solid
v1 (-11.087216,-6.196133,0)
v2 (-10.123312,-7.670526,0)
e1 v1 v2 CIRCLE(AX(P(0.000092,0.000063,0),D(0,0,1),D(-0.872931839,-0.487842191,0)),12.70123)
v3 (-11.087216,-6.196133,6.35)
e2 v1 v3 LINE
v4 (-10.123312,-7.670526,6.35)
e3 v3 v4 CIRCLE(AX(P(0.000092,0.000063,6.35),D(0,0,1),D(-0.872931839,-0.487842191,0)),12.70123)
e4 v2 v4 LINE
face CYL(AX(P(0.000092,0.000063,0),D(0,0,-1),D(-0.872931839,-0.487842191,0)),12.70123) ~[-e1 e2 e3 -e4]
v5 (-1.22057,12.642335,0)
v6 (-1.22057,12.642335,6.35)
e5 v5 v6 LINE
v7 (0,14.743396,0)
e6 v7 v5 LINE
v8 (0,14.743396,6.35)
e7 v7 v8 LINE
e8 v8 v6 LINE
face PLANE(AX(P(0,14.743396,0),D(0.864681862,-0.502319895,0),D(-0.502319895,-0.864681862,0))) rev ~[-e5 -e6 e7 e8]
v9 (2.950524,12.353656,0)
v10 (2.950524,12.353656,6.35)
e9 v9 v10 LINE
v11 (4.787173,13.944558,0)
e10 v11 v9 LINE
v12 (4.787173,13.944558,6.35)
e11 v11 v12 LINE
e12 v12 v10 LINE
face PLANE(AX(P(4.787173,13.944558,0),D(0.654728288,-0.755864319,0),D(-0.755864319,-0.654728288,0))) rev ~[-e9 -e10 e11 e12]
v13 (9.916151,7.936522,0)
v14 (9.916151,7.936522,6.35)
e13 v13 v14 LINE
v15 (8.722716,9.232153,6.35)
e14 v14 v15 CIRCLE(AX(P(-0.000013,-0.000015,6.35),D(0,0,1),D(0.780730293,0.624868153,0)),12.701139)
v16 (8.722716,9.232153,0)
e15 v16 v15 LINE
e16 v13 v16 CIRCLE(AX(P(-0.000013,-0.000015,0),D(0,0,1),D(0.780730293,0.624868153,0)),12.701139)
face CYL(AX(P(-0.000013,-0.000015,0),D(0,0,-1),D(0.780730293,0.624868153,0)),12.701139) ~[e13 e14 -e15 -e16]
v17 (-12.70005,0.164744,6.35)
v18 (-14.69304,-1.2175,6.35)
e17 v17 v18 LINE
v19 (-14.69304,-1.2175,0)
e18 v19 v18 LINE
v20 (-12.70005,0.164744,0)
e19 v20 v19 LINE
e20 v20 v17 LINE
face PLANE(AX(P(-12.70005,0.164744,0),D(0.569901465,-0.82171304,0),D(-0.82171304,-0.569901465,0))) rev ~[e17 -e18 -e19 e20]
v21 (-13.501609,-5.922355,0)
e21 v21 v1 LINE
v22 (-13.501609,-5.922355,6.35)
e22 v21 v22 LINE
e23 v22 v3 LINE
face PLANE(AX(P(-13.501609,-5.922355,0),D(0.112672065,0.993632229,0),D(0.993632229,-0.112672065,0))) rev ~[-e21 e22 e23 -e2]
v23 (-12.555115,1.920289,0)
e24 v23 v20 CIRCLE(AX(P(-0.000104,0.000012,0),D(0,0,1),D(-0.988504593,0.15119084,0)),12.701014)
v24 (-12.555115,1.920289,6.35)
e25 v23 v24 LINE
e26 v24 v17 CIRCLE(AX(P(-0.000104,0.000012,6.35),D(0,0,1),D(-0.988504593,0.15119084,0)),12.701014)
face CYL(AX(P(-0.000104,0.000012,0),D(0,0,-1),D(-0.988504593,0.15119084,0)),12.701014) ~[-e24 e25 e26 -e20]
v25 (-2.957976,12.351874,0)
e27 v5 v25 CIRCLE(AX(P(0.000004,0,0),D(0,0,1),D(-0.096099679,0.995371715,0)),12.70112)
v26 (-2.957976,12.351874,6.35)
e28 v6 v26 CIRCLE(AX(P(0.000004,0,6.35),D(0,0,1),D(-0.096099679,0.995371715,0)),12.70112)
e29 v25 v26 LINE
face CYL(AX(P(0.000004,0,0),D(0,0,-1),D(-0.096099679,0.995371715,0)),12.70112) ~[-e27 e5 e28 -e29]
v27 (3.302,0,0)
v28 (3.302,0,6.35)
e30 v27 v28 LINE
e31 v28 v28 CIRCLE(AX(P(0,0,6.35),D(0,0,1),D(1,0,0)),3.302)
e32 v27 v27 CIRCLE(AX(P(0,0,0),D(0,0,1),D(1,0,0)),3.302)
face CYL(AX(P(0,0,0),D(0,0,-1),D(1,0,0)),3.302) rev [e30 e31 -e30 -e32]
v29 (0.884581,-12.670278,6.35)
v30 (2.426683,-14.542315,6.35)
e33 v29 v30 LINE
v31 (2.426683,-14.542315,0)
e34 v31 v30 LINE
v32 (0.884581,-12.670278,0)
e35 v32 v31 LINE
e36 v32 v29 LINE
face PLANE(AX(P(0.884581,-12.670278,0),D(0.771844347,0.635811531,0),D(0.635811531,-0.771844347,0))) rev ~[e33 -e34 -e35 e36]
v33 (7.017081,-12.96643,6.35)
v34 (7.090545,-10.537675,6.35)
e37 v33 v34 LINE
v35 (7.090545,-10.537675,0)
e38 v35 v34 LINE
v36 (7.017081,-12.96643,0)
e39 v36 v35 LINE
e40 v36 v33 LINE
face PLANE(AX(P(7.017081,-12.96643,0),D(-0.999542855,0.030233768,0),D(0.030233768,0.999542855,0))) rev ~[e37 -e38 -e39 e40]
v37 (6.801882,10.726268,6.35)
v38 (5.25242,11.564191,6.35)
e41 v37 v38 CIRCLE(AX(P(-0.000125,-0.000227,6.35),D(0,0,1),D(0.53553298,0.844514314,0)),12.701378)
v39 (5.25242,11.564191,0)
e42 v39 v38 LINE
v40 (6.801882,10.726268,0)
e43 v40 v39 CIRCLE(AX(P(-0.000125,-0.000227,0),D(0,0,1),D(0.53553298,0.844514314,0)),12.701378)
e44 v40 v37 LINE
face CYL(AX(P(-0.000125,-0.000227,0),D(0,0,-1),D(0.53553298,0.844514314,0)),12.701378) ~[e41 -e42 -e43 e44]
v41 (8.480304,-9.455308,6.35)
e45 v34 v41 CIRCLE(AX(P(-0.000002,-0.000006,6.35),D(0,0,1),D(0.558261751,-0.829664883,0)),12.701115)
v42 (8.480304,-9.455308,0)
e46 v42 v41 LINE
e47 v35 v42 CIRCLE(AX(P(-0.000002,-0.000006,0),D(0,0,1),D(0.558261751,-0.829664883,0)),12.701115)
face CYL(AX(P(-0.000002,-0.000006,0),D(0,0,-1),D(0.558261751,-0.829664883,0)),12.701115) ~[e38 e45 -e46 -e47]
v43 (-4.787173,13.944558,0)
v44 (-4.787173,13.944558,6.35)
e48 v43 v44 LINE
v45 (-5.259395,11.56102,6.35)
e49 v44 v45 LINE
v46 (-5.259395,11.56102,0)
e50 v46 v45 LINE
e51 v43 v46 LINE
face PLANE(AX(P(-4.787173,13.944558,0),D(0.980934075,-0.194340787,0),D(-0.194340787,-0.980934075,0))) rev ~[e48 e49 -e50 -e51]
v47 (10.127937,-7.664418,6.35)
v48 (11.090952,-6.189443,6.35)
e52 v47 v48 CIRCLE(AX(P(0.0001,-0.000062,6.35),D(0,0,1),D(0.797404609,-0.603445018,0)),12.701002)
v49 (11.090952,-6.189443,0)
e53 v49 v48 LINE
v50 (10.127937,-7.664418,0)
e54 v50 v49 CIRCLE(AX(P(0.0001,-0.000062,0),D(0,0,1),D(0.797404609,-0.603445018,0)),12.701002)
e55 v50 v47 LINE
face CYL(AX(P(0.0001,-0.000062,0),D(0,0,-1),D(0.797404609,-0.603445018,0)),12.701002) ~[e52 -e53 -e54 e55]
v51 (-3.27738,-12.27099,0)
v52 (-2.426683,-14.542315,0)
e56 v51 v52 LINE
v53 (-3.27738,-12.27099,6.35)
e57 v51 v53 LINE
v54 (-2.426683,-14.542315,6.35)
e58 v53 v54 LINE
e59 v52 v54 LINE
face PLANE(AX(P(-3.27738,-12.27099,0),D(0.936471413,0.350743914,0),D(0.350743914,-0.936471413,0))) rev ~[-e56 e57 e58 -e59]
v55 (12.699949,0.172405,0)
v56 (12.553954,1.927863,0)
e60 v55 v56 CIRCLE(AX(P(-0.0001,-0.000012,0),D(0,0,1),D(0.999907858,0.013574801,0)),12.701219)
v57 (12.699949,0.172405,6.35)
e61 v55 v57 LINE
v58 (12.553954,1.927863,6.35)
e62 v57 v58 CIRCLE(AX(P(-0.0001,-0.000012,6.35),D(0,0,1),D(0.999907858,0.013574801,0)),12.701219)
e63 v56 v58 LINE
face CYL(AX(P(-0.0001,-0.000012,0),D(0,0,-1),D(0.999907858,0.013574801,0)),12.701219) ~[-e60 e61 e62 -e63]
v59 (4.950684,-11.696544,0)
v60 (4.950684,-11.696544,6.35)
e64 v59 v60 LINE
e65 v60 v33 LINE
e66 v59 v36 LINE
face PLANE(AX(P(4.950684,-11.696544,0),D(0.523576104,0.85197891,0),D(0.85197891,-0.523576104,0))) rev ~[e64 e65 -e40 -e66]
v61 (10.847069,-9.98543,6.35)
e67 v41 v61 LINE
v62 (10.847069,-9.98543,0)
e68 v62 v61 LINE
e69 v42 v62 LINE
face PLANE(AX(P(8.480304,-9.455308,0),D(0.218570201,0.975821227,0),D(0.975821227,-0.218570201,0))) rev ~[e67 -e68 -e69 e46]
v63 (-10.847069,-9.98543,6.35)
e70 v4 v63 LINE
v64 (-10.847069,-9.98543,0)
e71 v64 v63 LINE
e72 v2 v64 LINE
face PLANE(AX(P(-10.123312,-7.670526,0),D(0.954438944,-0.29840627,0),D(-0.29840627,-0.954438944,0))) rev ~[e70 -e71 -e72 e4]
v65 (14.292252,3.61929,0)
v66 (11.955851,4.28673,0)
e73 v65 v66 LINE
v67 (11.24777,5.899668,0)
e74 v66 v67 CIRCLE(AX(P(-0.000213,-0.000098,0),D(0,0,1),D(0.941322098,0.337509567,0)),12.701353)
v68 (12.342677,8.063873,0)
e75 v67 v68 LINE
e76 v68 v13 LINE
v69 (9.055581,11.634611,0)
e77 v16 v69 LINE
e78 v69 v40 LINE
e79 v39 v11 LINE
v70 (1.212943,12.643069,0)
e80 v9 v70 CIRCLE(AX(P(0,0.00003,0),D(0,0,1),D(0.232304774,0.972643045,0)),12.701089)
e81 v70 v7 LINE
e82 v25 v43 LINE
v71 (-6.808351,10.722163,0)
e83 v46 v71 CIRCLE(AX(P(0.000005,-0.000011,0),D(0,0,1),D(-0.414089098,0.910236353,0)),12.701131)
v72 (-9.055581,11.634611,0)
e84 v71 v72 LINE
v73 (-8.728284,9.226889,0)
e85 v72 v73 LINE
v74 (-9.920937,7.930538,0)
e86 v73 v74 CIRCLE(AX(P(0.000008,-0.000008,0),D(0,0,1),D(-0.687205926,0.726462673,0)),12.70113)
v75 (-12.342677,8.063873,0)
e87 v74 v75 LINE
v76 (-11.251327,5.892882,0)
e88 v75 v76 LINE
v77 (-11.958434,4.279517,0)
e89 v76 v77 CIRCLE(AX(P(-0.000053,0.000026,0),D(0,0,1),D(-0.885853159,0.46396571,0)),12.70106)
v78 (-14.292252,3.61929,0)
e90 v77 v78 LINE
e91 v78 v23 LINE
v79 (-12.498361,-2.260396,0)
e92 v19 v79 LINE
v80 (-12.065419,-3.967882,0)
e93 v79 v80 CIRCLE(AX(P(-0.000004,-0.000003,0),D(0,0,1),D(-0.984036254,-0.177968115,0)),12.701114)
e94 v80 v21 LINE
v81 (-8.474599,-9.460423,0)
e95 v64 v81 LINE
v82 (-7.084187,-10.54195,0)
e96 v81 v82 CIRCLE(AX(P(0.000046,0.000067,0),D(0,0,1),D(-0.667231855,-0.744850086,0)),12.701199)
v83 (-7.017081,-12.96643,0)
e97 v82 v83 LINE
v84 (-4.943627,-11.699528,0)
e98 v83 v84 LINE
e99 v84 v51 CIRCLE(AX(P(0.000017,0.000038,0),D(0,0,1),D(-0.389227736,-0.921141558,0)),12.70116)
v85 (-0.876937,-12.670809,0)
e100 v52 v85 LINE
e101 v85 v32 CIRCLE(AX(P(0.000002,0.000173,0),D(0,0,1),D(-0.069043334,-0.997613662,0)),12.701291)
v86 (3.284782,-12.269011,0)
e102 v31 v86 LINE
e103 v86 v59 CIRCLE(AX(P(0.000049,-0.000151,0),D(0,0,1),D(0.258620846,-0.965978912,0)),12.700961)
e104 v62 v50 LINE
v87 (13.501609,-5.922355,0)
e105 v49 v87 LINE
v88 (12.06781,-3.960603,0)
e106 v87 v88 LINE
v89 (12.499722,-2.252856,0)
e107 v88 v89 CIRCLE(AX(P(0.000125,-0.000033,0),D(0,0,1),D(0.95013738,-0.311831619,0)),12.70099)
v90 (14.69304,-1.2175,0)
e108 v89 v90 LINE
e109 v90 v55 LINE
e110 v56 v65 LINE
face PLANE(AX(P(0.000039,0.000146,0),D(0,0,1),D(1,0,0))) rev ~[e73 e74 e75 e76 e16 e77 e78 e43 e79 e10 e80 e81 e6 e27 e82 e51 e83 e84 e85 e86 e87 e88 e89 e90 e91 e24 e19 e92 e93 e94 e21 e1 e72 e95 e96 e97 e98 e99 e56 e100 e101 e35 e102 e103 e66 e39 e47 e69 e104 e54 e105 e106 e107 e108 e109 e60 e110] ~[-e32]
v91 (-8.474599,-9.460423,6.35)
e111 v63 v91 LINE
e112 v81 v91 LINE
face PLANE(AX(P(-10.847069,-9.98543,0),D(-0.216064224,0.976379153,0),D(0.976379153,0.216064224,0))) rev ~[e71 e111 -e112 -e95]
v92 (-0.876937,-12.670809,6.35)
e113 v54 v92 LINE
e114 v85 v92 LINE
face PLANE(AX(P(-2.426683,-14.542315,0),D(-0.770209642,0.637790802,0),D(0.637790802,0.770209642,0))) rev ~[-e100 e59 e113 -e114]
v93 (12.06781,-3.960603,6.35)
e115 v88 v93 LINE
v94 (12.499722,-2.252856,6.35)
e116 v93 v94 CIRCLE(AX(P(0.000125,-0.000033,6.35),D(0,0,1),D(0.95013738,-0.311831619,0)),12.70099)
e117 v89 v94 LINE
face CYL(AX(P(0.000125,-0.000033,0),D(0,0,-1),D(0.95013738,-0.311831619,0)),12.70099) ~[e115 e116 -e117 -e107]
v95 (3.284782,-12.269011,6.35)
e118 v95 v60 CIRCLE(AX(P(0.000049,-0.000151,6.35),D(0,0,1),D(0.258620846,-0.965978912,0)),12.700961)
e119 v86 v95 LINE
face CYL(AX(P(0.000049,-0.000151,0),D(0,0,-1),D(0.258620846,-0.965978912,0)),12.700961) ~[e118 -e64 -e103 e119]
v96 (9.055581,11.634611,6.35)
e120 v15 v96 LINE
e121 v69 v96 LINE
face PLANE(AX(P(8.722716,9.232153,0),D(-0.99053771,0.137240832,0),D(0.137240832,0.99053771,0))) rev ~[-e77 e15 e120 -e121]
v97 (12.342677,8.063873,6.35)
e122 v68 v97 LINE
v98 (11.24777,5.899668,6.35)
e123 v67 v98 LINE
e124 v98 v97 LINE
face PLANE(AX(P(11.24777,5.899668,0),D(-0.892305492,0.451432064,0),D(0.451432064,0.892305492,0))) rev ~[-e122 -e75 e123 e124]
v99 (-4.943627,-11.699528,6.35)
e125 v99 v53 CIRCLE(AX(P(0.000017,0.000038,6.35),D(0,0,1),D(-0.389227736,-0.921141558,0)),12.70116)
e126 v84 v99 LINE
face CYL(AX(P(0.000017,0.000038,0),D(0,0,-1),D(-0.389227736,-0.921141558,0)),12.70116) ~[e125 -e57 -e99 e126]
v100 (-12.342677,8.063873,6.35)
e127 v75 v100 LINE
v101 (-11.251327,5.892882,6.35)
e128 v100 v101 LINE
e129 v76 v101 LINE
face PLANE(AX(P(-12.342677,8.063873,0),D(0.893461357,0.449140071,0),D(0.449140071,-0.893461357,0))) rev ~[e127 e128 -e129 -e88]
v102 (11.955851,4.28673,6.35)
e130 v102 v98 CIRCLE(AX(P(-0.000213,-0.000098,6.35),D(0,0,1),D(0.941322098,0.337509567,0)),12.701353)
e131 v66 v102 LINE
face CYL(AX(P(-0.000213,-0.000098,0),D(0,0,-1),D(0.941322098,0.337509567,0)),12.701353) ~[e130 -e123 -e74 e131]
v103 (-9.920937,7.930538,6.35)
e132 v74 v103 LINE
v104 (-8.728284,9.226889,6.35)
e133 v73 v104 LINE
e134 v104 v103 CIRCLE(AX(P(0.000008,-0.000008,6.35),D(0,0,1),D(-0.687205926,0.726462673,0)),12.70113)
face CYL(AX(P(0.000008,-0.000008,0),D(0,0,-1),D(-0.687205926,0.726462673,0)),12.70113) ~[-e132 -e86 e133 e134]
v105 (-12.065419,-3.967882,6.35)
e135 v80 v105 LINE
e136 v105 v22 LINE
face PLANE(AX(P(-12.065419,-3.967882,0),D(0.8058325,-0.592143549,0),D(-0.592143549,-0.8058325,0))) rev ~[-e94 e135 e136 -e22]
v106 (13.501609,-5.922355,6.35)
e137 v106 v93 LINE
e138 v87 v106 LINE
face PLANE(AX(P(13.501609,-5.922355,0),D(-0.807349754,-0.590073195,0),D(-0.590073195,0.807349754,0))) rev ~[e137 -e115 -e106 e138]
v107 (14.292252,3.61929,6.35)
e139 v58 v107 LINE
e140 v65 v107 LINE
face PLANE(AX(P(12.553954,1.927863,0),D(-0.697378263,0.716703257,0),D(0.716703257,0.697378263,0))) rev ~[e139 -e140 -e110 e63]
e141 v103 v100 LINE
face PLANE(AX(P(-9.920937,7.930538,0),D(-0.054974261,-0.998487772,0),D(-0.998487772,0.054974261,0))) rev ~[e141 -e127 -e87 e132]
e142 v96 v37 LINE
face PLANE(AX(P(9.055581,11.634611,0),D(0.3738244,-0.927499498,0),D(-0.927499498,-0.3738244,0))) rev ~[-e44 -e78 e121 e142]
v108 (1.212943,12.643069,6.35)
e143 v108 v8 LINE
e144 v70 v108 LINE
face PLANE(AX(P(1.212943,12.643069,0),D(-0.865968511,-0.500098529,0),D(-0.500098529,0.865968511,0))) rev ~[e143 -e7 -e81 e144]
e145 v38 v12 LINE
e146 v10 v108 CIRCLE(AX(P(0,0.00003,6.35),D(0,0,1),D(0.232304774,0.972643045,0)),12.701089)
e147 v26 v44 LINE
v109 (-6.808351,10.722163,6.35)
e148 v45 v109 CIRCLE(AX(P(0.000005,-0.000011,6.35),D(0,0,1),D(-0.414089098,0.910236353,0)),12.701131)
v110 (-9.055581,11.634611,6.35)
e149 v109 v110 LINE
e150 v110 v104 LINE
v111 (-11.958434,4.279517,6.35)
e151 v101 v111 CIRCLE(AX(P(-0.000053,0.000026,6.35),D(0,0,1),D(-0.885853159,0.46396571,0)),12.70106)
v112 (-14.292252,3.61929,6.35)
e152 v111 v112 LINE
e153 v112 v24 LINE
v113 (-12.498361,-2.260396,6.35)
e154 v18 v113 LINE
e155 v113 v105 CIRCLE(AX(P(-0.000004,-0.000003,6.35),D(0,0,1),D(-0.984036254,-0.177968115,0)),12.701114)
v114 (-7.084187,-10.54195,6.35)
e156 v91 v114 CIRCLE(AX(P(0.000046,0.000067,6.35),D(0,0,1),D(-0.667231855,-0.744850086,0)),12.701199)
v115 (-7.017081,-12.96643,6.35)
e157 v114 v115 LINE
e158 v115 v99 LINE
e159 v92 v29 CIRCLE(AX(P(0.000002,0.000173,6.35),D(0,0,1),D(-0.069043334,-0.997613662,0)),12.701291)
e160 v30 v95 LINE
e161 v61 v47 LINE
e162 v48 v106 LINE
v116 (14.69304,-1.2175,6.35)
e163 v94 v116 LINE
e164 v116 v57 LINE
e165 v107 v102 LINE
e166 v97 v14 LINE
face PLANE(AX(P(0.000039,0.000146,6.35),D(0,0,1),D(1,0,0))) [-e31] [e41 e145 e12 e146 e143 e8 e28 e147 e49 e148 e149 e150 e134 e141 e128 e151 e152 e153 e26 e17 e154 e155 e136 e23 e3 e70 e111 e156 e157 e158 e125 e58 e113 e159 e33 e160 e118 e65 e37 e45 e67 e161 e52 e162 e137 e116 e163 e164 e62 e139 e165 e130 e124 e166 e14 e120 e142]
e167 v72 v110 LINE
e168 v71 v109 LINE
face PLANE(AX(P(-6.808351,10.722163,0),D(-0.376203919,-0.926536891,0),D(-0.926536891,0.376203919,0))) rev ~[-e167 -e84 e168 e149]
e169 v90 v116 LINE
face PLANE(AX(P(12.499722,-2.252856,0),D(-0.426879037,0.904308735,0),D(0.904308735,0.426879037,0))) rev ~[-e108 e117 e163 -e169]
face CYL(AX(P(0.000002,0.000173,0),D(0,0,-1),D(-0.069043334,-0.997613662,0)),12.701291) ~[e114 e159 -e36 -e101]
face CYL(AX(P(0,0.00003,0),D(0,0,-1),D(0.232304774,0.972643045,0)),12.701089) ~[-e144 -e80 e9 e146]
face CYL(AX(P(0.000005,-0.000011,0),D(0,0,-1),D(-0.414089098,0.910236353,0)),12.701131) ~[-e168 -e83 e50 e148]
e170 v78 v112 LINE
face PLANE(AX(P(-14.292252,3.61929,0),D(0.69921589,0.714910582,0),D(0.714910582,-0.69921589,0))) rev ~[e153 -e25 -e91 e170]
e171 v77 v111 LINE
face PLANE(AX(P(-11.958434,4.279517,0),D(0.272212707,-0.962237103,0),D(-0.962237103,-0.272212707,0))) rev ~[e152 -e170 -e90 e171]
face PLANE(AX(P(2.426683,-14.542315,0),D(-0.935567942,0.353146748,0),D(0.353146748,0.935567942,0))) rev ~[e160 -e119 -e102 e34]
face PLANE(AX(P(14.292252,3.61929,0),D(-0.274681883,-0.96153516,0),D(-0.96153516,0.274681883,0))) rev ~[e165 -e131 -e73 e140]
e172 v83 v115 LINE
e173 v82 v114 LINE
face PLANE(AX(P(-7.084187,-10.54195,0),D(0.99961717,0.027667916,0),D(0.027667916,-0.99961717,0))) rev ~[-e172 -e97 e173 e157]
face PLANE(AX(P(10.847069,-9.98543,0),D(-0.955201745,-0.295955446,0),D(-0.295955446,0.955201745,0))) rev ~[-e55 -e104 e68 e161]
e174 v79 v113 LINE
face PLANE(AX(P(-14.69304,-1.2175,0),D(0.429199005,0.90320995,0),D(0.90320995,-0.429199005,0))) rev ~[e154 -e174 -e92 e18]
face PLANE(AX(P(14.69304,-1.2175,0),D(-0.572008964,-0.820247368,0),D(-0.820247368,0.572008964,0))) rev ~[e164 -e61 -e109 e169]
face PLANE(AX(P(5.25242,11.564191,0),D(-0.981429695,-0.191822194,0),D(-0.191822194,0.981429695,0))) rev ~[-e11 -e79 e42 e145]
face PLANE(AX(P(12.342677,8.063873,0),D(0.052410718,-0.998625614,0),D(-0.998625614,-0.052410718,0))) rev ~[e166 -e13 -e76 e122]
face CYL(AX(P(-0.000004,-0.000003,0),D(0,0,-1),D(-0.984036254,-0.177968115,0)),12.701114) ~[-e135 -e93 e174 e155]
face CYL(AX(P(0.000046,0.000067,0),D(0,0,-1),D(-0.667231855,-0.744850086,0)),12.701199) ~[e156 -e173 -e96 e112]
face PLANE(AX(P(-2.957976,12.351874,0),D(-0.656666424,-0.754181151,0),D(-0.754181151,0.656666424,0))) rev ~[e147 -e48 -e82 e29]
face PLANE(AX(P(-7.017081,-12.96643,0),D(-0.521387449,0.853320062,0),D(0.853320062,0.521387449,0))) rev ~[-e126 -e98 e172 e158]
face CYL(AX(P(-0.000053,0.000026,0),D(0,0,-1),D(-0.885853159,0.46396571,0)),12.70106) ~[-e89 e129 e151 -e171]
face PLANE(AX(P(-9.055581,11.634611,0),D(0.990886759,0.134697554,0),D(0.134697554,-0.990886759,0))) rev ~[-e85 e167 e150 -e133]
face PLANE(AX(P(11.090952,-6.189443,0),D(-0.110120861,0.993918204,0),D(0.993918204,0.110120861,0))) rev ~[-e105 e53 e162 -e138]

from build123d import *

# Parameters (mm, degrees)
F0_R     = 3.302
F1_DEPTH = 6.35


with BuildPart() as f1:
    # F0 (on Top) → F1 (new body)
    with BuildSketch(Plane.XY):
        with BuildLine():
            ThreePointArc((12.499722, -2.252856), (12.650669, -1.13092), (12.701119, 0))
            ThreePointArc((12.701119, 0), (12.700826, 0.086204), (12.699949, 0.172405))
            ThreePointArc((12.699949, 0.172405), (12.657421, 1.052668), (12.553954, 1.927863))
            ThreePointArc((12.553954, 1.927863), (12.311527, 3.121654), (11.955851, 4.28673))
            ThreePointArc((11.955851, 4.28673), (11.629806, 5.105489), (11.24777, 5.899668))
            ThreePointArc((11.24777, 5.899668), (10.630855, 6.95006), (9.916151, 7.936522))
            ThreePointArc((9.916151, 7.936522), (9.341922, 8.605052), (8.722716, 9.232153))
            ThreePointArc((8.722716, 9.232153), (7.798165, 10.02532), (6.801882, 10.726268))
            ThreePointArc((6.801882, 10.726268), (6.041695, 11.172123), (5.25242, 11.564191))
            ThreePointArc((5.25242, 11.564191), (4.120423, 12.01418), (2.950524, 12.353656))
            ThreePointArc((2.950524, 12.353656), (2.086757, 12.528522), (1.212943, 12.643069))
            ThreePointArc((1.212943, 12.643069), (0.607166, 12.686598), (0, 12.701119))
            ThreePointArc((0, 12.701119), (-0.610992, 12.686414), (-1.22057, 12.642335))
            ThreePointArc((-1.22057, 12.642335), (-2.094314, 12.527261), (-2.957976, 12.351874))
            ThreePointArc((-2.957976, 12.351874), (-4.12767, 12.011693), (-5.259395, 11.56102))
            ThreePointArc((-5.259395, 11.56102), (-6.048433, 11.168477), (-6.808351, 10.722163))
            ThreePointArc((-6.808351, 10.722163), (-7.804211, 10.020614), (-8.728284, 9.226889))
            ThreePointArc((-8.728284, 9.226889), (-9.347111, 8.599415), (-9.920937, 7.930538))
            ThreePointArc((-9.920937, 7.930538), (-10.635046, 6.943646), (-11.251327, 5.892882))
            ThreePointArc((-11.251327, 5.892882), (-11.632884, 5.098473), (-11.958434, 4.279517))
            ThreePointArc((-11.958434, 4.279517), (-12.313408, 3.114226), (-12.555115, 1.920289))
            ThreePointArc((-12.555115, 1.920289), (-12.658054, 1.045032), (-12.70005, 0.164744))
            ThreePointArc((-12.70005, 0.164744), (-12.657421, -1.052668), (-12.498361, -2.260396))
            ThreePointArc((-12.498361, -2.260396), (-12.311527, -3.121654), (-12.065419, -3.967882))
            ThreePointArc((-12.065419, -3.967882), (-11.629806, -5.105489), (-11.087216, -6.196133))
            ThreePointArc((-11.087216, -6.196133), (-10.630855, -6.95006), (-10.123312, -7.670526))
            ThreePointArc((-10.123312, -7.670526), (-9.341922, -8.605052), (-8.474599, -9.460423))
            ThreePointArc((-8.474599, -9.460423), (-7.798165, -10.02532), (-7.084187, -10.54195))
            ThreePointArc((-7.084187, -10.54195), (-6.041695, -11.172123), (-4.943627, -11.699528))
            ThreePointArc((-4.943627, -11.699528), (-4.120423, -12.01418), (-3.27738, -12.27099))
            ThreePointArc((-3.27738, -12.27099), (-2.086757, -12.528522), (-0.876937, -12.670809))
            ThreePointArc((-0.876937, -12.670809), (0.003831, -12.701118), (0.884581, -12.670278))
            ThreePointArc((0.884581, -12.670278), (2.094314, -12.527261), (3.284782, -12.269011))
            ThreePointArc((3.284782, -12.269011), (4.12767, -12.011693), (4.950684, -11.696544))
            ThreePointArc((4.950684, -11.696544), (6.048433, -11.168477), (7.090545, -10.537675))
            ThreePointArc((7.090545, -10.537675), (7.804211, -10.020614), (8.480304, -9.455308))
            ThreePointArc((8.480304, -9.455308), (9.347111, -8.599415), (10.127937, -7.664418))
            ThreePointArc((10.127937, -7.664418), (10.635046, -6.943646), (11.090952, -6.189443))
            ThreePointArc((11.090952, -6.189443), (11.632884, -5.098473), (12.06781, -3.960603))
            ThreePointArc((12.06781, -3.960603), (12.313408, -3.114226), (12.499722, -2.252856))
        make_face()
        Circle(F0_R, mode=Mode.SUBTRACT)
        with BuildLine():
            ThreePointArc((12.699949, 0.172405), (12.700826, 0.086204), (12.701119, 0))
            ThreePointArc((12.701119, 0), (12.650669, -1.13092), (12.499722, -2.252856))
            Line((12.499722, -2.252856), (14.69304, -1.2175))
            Line((14.69304, -1.2175), (12.699949, 0.172405))
        make_face()
        with BuildLine():
            ThreePointArc((11.955851, 4.28673), (12.311527, 3.121654), (12.553954, 1.927863))
            Line((12.553954, 1.927863), (14.292252, 3.61929))
            Line((14.292252, 3.61929), (11.955851, 4.28673))
        make_face()
        with BuildLine():
            Line((13.501609, -5.922355), (12.06781, -3.960603))
            ThreePointArc((12.06781, -3.960603), (11.632884, -5.098473), (11.090952, -6.189443))
            Line((11.090952, -6.189443), (13.501609, -5.922355))
        make_face()
        with BuildLine():
            ThreePointArc((9.916151, 7.936522), (10.630855, 6.95006), (11.24777, 5.899668))
            Line((11.24777, 5.899668), (12.342677, 8.063873))
            Line((12.342677, 8.063873), (9.916151, 7.936522))
        make_face()
        with BuildLine():
            Line((10.847069, -9.98543), (10.127937, -7.664418))
            ThreePointArc((10.127937, -7.664418), (9.347111, -8.599415), (8.480304, -9.455308))
            Line((8.480304, -9.455308), (10.847069, -9.98543))
        make_face()
        with BuildLine():
            ThreePointArc((6.801882, 10.726268), (7.798165, 10.02532), (8.722716, 9.232153))
            Line((8.722716, 9.232153), (9.055581, 11.634611))
            Line((9.055581, 11.634611), (6.801882, 10.726268))
        make_face()
        with BuildLine():
            Line((7.017081, -12.96643), (7.090545, -10.537675))
            ThreePointArc((7.090545, -10.537675), (6.048433, -11.168477), (4.950684, -11.696544))
            Line((4.950684, -11.696544), (7.017081, -12.96643))
        make_face()
        with BuildLine():
            ThreePointArc((2.950524, 12.353656), (4.120423, 12.01418), (5.25242, 11.564191))
            Line((5.25242, 11.564191), (4.787173, 13.944558))
            Line((4.787173, 13.944558), (2.950524, 12.353656))
        make_face()
        with BuildLine():
            Line((2.426683, -14.542315), (3.284782, -12.269011))
            ThreePointArc((3.284782, -12.269011), (2.094314, -12.527261), (0.884581, -12.670278))
            Line((0.884581, -12.670278), (2.426683, -14.542315))
        make_face()
        with BuildLine():
            ThreePointArc((0, 12.701119), (0.607166, 12.686598), (1.212943, 12.643069))
            Line((1.212943, 12.643069), (0, 14.743396))
            Line((0, 14.743396), (0, 12.701119))
        make_face()
        with BuildLine():
            Line((-2.426683, -14.542315), (-0.876937, -12.670809))
            ThreePointArc((-0.876937, -12.670809), (-2.086757, -12.528522), (-3.27738, -12.27099))
            Line((-3.27738, -12.27099), (-2.426683, -14.542315))
        make_face()
        with BuildLine():
            ThreePointArc((-1.22057, 12.642335), (-0.610992, 12.686414), (0, 12.701119))
            Line((0, 12.701119), (0, 14.743396))
            Line((0, 14.743396), (-1.22057, 12.642335))
        make_face()
        with BuildLine():
            Line((-7.017081, -12.96643), (-4.943627, -11.699528))
            ThreePointArc((-4.943627, -11.699528), (-6.041695, -11.172123), (-7.084187, -10.54195))
            Line((-7.084187, -10.54195), (-7.017081, -12.96643))
        make_face()
        with BuildLine():
            ThreePointArc((-5.259395, 11.56102), (-4.12767, 12.011693), (-2.957976, 12.351874))
            Line((-2.957976, 12.351874), (-4.787173, 13.944558))
            Line((-4.787173, 13.944558), (-5.259395, 11.56102))
        make_face()
        with BuildLine():
            Line((-10.847069, -9.98543), (-8.474599, -9.460423))
            ThreePointArc((-8.474599, -9.460423), (-9.341922, -8.605052), (-10.123312, -7.670526))
            Line((-10.123312, -7.670526), (-10.847069, -9.98543))
        make_face()
        with BuildLine():
            ThreePointArc((-8.728284, 9.226889), (-7.804211, 10.020614), (-6.808351, 10.722163))
            Line((-6.808351, 10.722163), (-9.055581, 11.634611))
            Line((-9.055581, 11.634611), (-8.728284, 9.226889))
        make_face()
        with BuildLine():
            Line((-13.501609, -5.922355), (-11.087216, -6.196133))
            ThreePointArc((-11.087216, -6.196133), (-11.629806, -5.105489), (-12.065419, -3.967882))
            Line((-12.065419, -3.967882), (-13.501609, -5.922355))
        make_face()
        with BuildLine():
            ThreePointArc((-11.251327, 5.892882), (-10.635046, 6.943646), (-9.920937, 7.930538))
            Line((-9.920937, 7.930538), (-12.342677, 8.063873))
            Line((-12.342677, 8.063873), (-11.251327, 5.892882))
        make_face()
        with BuildLine():
            Line((-14.69304, -1.2175), (-12.498361, -2.260396))
            ThreePointArc((-12.498361, -2.260396), (-12.657421, -1.052668), (-12.70005, 0.164744))
            Line((-12.70005, 0.164744), (-14.69304, -1.2175))
        make_face()
        with BuildLine():
            ThreePointArc((-12.555115, 1.920289), (-12.313408, 3.114226), (-11.958434, 4.279517))
            Line((-11.958434, 4.279517), (-14.292252, 3.61929))
            Line((-14.292252, 3.61929), (-12.555115, 1.920289))
        make_face()
    extrude(amount=F1_DEPTH)


solid = f1.part
